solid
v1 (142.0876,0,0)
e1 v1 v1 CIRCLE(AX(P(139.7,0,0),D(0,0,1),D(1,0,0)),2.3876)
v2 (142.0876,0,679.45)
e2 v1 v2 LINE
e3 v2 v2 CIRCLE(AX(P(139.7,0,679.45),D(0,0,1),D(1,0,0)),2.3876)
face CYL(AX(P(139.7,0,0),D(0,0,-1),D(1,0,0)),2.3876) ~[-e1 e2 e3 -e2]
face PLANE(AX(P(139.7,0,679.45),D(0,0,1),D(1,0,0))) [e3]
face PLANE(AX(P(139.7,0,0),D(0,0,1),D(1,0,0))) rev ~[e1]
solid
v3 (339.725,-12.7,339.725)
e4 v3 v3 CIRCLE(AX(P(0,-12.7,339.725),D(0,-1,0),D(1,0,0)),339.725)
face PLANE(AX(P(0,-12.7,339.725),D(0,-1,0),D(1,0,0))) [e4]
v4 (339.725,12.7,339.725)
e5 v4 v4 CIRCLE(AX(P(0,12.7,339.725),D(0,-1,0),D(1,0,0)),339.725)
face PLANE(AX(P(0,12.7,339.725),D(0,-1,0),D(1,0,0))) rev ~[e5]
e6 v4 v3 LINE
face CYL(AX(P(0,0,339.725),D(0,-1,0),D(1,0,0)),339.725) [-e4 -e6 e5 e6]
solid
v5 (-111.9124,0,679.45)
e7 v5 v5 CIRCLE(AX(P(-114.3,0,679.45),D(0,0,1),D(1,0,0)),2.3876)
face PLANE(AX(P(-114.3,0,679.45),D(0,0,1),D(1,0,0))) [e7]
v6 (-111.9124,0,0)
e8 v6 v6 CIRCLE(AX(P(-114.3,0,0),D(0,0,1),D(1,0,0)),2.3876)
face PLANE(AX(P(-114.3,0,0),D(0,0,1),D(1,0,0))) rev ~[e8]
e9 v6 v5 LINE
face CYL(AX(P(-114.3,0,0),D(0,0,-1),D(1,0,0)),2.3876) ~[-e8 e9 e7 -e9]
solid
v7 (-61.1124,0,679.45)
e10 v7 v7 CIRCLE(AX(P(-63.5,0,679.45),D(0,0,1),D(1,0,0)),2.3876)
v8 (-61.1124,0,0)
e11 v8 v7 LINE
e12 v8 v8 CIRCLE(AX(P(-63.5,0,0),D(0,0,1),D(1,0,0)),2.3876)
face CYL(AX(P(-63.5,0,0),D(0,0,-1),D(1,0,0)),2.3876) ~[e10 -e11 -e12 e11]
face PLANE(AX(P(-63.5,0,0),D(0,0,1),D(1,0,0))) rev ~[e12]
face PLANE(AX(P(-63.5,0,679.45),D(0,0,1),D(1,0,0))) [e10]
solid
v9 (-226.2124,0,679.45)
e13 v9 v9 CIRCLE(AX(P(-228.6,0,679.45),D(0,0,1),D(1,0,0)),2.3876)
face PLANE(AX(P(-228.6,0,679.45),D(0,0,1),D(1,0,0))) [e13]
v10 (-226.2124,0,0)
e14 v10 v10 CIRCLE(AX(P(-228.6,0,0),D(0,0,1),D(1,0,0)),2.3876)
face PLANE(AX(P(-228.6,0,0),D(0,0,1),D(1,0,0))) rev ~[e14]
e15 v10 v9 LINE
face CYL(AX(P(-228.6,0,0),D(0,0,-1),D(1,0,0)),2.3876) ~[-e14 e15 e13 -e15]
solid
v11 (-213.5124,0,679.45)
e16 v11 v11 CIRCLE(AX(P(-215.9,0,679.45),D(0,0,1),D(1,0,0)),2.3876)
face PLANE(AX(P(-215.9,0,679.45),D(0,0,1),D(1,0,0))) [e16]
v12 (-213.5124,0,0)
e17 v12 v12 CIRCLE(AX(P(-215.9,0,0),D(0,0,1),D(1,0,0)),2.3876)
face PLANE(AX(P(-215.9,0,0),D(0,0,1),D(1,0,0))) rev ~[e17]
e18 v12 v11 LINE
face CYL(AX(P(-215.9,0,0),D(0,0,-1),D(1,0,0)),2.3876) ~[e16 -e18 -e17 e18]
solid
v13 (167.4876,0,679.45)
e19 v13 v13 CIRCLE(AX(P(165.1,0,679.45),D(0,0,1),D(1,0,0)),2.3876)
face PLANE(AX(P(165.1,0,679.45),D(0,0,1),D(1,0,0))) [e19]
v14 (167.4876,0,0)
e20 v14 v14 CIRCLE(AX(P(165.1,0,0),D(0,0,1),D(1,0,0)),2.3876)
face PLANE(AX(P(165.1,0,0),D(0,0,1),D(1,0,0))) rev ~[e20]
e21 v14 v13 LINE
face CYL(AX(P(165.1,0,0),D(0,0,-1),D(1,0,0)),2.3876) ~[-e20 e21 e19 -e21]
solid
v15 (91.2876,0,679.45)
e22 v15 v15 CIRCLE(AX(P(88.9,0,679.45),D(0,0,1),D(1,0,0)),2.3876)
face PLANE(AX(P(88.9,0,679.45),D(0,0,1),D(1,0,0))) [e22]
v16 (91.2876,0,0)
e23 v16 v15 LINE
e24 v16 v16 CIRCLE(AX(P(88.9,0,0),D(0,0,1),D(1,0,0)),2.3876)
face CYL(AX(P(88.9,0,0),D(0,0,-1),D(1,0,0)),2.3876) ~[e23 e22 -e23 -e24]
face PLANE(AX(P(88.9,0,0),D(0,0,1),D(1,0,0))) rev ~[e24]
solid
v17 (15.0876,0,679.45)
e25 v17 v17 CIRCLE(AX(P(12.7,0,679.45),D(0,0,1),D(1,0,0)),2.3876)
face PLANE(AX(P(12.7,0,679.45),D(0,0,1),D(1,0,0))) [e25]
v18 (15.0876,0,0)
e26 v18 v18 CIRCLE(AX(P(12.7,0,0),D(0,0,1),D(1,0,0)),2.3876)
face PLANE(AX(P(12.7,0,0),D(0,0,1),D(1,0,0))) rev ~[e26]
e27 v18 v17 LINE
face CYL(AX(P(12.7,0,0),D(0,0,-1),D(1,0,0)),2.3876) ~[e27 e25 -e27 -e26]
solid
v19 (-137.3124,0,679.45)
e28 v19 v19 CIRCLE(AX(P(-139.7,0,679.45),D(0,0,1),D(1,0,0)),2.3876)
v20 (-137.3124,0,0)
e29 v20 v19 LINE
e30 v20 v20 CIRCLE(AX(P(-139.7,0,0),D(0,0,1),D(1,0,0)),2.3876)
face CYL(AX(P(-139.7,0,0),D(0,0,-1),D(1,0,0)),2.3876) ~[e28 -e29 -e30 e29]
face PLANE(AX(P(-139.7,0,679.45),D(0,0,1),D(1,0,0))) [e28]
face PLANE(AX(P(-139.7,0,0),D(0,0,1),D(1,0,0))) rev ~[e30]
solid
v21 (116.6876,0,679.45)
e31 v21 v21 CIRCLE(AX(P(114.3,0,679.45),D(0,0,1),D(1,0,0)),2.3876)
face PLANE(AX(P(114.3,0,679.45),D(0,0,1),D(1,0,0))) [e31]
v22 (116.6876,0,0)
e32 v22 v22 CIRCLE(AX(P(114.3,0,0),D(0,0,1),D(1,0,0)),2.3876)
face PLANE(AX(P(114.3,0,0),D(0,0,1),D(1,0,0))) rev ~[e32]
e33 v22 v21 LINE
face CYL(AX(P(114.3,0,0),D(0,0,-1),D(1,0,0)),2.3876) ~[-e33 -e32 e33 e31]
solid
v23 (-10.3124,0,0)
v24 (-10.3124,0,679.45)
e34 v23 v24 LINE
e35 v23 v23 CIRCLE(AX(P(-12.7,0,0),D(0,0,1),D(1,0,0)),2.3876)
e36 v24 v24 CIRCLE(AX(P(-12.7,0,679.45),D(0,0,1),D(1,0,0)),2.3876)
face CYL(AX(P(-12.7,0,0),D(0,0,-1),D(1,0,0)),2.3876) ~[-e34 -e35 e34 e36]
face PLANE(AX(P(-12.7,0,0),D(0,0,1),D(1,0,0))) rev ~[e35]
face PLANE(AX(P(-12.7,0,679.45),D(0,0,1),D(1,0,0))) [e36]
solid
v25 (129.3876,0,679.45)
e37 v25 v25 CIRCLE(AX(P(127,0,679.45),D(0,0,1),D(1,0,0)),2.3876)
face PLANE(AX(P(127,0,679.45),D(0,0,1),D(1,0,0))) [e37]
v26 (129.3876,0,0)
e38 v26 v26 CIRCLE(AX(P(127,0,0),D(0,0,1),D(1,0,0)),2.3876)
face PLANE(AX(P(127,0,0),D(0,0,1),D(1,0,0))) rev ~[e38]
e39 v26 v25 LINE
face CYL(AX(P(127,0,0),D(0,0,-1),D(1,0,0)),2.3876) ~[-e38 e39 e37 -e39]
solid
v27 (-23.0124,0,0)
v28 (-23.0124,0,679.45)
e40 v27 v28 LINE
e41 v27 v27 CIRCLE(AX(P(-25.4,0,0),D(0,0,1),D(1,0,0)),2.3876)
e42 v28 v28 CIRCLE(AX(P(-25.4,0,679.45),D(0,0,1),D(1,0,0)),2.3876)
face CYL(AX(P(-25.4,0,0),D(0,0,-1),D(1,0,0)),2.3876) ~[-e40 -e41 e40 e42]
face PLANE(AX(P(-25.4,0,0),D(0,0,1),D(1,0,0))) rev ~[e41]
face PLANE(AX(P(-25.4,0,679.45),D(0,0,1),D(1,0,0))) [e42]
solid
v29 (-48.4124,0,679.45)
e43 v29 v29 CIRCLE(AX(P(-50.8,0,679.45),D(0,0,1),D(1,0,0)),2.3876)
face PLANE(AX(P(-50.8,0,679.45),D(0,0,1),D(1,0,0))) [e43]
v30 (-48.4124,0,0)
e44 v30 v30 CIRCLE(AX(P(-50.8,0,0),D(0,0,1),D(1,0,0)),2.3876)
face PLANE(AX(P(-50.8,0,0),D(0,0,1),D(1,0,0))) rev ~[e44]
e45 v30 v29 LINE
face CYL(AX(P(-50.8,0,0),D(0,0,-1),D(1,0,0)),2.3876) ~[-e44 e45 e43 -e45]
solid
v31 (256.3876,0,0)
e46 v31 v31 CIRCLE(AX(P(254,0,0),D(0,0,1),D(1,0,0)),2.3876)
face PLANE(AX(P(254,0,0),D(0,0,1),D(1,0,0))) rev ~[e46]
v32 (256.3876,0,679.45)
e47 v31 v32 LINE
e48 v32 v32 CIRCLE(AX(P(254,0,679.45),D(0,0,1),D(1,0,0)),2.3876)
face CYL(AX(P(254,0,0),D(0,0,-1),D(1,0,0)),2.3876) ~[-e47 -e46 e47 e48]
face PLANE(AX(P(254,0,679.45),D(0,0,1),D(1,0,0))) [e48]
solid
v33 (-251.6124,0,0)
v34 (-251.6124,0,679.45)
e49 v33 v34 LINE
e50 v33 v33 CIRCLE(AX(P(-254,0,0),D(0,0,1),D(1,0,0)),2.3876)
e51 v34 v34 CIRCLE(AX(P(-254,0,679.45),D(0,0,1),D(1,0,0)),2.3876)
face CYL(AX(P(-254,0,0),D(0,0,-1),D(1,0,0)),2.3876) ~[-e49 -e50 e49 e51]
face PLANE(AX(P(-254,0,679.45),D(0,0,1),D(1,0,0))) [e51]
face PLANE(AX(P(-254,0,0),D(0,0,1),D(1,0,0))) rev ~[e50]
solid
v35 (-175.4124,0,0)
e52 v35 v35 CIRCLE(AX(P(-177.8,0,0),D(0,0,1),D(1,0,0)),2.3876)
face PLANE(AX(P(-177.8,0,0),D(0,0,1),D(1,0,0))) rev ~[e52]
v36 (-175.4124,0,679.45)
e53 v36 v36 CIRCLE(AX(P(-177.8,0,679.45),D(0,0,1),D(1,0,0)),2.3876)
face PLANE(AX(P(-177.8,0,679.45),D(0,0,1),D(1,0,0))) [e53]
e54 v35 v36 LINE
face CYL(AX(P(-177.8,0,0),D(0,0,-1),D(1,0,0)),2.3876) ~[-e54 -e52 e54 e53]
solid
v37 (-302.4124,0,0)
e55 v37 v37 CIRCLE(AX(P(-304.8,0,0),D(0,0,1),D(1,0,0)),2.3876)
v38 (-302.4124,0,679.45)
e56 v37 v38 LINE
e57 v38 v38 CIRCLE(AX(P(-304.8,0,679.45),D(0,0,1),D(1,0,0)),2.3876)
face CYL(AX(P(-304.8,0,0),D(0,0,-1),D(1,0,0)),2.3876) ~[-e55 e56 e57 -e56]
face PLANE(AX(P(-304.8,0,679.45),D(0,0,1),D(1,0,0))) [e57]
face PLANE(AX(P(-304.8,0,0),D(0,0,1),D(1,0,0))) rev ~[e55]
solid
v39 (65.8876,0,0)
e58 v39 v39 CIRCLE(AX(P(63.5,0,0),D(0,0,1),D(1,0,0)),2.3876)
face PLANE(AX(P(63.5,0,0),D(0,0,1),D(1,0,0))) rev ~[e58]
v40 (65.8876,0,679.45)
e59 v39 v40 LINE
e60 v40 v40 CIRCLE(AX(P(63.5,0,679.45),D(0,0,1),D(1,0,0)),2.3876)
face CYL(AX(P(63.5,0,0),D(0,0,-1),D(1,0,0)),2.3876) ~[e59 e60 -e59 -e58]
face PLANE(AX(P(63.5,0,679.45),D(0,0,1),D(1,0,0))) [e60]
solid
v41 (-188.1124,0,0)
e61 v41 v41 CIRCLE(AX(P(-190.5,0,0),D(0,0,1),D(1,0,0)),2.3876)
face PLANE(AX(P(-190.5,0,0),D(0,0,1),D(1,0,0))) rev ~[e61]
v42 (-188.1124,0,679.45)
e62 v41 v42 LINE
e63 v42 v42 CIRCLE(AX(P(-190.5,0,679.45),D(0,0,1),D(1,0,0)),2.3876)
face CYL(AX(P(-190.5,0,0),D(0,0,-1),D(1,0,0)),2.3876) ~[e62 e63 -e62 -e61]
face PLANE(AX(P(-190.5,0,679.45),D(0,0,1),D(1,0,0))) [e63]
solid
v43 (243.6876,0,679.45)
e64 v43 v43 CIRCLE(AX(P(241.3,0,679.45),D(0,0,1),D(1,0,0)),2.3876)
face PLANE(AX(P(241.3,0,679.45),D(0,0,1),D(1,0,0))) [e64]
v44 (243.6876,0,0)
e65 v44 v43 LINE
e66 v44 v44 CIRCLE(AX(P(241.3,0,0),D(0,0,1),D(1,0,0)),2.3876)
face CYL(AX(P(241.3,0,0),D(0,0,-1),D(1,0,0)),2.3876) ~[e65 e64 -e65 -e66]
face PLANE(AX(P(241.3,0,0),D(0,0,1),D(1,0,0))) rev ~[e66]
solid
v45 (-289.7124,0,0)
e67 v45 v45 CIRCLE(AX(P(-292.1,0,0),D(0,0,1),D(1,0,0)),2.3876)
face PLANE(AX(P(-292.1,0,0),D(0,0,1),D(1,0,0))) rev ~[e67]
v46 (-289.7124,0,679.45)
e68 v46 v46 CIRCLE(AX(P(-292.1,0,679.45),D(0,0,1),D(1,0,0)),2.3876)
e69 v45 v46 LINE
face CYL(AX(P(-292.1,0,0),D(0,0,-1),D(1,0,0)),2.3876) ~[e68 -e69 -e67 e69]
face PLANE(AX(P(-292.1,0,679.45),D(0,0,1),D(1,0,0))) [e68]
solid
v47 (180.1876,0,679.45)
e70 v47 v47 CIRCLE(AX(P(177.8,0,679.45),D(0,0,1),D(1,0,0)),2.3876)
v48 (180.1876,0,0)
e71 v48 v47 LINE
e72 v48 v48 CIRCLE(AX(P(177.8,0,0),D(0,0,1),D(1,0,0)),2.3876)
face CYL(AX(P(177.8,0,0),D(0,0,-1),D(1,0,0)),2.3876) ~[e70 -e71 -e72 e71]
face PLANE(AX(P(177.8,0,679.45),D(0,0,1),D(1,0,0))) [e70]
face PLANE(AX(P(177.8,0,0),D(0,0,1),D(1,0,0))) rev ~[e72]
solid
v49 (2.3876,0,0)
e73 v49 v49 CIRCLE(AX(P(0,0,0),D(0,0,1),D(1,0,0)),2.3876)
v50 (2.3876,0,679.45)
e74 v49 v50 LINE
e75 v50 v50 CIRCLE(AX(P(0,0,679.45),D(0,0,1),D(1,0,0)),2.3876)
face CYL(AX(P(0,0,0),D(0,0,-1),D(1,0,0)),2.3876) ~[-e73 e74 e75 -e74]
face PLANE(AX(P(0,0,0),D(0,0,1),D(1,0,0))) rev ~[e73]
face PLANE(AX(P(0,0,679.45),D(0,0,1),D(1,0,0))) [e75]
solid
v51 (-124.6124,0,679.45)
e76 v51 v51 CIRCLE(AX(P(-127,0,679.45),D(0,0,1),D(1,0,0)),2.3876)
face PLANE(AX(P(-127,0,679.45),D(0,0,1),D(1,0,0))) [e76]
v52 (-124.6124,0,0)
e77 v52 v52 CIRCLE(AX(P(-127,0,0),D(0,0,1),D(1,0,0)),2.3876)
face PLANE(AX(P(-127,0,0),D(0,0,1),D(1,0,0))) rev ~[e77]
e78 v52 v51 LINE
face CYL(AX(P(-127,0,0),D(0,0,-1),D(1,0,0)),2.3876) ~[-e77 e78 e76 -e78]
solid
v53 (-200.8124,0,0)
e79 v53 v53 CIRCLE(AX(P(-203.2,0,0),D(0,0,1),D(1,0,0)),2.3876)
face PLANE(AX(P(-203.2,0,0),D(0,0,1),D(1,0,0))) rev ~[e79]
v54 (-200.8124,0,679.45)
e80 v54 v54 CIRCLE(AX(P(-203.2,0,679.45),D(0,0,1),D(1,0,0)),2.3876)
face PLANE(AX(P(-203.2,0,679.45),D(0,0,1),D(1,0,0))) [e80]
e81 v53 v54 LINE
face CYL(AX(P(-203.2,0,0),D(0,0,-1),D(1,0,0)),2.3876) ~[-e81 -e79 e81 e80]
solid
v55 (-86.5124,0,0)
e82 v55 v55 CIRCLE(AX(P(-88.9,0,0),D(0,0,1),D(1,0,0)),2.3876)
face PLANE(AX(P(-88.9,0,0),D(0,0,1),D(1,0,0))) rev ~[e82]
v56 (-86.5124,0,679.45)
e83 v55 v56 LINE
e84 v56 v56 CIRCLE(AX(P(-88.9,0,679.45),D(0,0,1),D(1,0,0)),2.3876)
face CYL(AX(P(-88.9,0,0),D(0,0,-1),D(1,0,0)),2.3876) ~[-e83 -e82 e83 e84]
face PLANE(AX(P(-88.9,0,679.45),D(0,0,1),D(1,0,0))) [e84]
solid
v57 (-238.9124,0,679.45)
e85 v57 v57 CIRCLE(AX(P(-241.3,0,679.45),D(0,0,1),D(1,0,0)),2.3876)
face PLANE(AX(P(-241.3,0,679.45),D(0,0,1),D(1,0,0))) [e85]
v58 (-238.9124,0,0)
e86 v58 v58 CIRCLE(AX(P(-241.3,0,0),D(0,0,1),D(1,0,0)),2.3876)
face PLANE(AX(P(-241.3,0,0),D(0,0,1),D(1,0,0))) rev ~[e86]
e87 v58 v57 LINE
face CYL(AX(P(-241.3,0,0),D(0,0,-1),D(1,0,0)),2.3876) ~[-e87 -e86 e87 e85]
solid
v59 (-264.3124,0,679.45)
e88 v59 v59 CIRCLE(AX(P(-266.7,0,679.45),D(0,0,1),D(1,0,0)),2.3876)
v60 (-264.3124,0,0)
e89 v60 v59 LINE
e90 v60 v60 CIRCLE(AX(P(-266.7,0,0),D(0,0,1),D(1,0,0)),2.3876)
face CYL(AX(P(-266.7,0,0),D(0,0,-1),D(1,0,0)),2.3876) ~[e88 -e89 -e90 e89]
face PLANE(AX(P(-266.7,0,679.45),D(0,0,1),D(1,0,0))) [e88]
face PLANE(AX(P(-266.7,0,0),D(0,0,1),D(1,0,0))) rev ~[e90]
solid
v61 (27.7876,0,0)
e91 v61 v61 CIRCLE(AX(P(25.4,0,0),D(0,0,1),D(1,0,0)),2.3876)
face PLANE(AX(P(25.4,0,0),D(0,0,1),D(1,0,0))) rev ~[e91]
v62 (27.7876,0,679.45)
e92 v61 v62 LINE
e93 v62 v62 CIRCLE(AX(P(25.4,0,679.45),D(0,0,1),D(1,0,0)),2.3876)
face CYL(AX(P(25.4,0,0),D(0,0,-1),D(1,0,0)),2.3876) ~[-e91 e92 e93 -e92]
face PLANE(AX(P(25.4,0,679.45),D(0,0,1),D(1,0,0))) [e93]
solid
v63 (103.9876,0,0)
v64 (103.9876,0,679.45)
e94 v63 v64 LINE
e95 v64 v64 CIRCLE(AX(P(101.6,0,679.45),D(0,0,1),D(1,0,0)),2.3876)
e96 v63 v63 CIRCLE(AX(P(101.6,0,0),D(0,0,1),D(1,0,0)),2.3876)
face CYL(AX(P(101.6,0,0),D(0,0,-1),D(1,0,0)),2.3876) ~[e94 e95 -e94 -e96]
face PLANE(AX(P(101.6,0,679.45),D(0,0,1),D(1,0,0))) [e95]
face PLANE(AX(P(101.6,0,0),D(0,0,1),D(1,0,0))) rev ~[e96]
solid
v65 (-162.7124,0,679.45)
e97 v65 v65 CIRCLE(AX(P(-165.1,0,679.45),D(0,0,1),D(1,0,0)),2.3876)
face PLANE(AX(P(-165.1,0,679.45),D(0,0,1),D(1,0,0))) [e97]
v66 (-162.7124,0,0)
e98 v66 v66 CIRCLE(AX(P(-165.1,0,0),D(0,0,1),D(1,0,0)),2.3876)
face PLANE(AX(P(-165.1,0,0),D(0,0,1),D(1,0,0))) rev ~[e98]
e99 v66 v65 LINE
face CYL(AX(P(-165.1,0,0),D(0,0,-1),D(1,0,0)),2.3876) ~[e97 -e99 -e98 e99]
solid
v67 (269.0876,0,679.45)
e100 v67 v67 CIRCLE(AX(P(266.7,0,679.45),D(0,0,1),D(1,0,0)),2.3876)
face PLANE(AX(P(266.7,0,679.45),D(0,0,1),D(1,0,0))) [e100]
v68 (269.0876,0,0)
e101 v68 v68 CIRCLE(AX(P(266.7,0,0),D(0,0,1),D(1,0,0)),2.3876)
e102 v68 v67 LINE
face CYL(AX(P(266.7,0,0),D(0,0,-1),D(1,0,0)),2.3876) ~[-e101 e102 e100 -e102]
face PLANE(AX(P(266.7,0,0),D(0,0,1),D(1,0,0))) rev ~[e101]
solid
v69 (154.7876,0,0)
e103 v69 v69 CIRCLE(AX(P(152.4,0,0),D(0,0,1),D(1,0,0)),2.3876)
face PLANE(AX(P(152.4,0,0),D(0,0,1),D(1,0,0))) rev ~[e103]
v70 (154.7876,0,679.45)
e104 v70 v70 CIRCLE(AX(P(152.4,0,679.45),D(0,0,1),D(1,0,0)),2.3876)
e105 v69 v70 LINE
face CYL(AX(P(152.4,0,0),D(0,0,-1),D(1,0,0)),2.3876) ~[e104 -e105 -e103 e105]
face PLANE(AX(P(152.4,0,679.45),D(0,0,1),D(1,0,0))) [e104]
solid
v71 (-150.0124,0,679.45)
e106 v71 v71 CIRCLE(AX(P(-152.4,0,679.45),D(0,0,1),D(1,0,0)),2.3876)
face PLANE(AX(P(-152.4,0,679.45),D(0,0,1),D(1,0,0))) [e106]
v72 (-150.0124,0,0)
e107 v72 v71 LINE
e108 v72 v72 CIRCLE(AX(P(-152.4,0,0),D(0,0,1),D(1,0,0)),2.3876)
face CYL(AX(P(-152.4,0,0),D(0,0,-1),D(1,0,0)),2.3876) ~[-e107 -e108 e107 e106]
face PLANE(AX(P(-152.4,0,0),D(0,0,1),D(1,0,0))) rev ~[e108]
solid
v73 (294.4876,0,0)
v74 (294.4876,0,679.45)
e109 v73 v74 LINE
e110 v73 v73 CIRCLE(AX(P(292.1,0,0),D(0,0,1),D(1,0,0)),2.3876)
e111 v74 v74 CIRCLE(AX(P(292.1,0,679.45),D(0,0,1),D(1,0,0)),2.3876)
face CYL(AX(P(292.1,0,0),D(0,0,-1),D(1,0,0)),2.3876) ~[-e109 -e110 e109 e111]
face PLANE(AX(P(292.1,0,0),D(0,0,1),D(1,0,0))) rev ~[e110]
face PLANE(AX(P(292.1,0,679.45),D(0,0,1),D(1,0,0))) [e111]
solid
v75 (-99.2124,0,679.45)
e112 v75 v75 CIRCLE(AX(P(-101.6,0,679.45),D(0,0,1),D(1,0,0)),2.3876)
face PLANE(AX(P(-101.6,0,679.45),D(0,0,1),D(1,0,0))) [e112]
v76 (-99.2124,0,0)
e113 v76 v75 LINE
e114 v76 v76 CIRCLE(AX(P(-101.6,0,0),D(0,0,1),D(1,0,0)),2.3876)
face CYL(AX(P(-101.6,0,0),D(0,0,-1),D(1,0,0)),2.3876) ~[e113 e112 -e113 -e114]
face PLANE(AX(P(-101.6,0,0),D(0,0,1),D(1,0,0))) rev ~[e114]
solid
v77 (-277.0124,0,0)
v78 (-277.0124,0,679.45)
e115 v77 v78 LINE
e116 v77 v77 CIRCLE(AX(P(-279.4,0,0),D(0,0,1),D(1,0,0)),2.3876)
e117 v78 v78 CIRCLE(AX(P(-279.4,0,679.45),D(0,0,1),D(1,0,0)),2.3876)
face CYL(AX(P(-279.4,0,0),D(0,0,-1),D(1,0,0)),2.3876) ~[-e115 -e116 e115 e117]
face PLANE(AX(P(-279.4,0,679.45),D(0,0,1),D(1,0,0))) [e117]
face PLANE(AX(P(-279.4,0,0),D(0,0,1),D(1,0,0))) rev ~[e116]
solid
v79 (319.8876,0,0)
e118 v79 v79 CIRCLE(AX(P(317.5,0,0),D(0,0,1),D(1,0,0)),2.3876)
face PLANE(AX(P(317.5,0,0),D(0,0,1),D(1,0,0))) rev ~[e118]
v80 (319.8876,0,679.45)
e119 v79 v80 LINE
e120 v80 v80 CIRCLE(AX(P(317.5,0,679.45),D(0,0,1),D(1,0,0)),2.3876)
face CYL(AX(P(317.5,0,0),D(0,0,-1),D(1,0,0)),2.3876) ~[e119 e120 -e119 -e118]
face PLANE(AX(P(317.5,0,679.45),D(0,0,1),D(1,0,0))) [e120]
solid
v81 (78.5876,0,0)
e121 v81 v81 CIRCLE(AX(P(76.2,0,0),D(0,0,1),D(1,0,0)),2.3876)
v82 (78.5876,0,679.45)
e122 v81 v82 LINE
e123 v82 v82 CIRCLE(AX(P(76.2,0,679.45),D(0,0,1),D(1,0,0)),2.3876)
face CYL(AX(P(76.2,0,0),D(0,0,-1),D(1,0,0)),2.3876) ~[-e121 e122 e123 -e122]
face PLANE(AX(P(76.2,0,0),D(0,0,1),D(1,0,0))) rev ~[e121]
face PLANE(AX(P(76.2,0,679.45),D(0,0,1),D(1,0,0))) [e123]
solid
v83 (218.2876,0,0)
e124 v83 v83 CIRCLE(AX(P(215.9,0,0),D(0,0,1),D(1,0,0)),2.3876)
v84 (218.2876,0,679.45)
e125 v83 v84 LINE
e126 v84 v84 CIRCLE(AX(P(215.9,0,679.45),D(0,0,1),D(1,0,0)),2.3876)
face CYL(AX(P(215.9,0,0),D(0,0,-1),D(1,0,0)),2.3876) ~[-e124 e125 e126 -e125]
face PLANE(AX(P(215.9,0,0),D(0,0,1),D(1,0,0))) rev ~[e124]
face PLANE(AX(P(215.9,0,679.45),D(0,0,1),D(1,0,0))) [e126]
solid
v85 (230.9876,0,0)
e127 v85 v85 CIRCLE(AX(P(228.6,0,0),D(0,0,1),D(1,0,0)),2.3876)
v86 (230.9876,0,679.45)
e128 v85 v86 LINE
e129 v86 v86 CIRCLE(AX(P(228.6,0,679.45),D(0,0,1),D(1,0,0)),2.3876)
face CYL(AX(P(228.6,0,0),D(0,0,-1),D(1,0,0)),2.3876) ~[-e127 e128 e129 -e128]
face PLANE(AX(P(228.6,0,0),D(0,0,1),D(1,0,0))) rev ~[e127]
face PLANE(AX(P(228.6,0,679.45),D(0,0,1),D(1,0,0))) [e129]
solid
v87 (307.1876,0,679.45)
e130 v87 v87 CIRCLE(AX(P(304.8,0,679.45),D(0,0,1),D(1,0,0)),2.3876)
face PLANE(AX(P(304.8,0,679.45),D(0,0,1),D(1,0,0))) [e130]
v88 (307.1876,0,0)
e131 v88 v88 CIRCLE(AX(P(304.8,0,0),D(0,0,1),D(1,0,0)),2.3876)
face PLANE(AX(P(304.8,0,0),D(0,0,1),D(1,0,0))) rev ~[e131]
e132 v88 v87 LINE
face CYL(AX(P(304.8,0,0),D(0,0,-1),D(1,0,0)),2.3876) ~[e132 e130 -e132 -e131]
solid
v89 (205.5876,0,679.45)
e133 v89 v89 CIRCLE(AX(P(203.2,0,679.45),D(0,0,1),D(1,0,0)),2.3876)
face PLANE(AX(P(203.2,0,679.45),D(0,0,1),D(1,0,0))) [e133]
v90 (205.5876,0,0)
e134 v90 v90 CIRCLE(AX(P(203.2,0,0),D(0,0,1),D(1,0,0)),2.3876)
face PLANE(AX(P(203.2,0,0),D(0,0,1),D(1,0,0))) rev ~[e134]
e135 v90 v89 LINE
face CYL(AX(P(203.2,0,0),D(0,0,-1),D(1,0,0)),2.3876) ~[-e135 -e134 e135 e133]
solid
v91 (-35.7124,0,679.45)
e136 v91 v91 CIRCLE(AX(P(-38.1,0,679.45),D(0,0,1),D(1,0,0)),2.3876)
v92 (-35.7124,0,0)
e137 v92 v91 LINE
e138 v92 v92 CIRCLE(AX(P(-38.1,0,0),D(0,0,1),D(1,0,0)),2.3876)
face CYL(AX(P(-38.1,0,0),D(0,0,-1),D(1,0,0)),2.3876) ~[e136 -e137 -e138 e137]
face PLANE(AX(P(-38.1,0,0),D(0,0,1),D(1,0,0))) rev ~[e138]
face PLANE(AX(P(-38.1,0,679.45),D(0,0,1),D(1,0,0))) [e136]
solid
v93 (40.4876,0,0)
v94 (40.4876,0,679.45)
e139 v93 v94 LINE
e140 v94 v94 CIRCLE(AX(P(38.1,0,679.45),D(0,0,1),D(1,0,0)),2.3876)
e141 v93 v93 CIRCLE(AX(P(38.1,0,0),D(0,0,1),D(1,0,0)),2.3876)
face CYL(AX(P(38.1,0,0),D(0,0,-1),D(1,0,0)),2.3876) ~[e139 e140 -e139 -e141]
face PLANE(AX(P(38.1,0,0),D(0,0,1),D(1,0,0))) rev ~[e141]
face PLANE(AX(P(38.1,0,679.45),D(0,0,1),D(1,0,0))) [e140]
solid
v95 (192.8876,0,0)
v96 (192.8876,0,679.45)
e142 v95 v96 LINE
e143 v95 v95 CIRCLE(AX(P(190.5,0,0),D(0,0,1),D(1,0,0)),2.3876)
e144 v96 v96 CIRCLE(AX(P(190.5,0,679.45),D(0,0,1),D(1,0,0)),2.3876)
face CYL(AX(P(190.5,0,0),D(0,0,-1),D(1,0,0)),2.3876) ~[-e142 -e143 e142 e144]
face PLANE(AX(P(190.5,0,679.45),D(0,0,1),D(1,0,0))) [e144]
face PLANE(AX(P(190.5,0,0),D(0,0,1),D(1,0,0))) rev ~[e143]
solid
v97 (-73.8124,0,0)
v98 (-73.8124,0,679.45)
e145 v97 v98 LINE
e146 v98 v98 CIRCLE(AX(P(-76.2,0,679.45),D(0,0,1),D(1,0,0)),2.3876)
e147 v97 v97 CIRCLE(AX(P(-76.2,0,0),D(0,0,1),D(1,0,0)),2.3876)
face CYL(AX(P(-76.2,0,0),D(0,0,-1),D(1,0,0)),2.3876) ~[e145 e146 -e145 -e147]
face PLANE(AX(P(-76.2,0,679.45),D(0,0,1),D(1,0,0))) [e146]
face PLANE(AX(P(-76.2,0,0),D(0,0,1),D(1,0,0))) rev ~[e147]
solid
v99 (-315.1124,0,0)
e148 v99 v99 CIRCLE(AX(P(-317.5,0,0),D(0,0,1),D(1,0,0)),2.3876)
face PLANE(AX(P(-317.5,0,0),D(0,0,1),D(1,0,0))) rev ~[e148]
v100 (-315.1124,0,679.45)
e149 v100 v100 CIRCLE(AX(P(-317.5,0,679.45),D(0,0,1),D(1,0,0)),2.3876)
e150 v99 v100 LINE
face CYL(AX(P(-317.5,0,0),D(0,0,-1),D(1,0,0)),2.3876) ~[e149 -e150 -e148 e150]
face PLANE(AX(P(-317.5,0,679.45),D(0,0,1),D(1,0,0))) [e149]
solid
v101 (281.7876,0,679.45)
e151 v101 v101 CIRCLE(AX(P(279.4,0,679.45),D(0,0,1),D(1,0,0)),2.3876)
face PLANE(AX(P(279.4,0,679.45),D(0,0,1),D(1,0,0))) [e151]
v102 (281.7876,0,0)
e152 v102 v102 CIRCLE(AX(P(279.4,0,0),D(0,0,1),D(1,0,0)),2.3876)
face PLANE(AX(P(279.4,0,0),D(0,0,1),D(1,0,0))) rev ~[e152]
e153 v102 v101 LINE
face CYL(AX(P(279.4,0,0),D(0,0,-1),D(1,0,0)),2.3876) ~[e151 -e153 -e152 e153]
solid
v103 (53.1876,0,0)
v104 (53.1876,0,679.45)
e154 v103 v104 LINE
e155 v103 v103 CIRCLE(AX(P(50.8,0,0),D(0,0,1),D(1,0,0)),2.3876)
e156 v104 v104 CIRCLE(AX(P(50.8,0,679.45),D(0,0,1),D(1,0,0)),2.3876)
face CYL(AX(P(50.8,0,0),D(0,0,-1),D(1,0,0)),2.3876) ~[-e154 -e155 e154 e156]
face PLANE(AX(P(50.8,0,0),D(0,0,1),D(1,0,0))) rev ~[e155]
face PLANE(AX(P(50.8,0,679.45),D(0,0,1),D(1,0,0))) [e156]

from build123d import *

# Parameters (mm, degrees)
F0_R     = 2.3876
F1_DEPTH = 679.45
F2_R     = 339.725
F3_DEPTH = 12.7


with BuildPart() as f1:
    # F0 (on Top) → F1 (new body)
    with BuildSketch(Plane.XY):
        Circle(F0_R)
        with Locations((12.7, 0)):
            Circle(F0_R)
        with Locations((25.4, 0)):
            Circle(F0_R)
        with Locations((38.1, 0)):
            Circle(F0_R)
        with Locations((50.8, 0)):
            Circle(F0_R)
        with Locations((63.5, 0)):
            Circle(F0_R)
        with Locations((76.2, 0)):
            Circle(F0_R)
        with Locations((88.9, 0)):
            Circle(F0_R)
        with Locations((101.6, 0)):
            Circle(F0_R)
        with Locations((114.3, 0)):
            Circle(F0_R)
        with Locations((127, 0)):
            Circle(F0_R)
        with Locations((139.7, 0)):
            Circle(F0_R)
        with Locations((152.4, 0)):
            Circle(F0_R)
        with Locations((165.1, 0)):
            Circle(F0_R)
        with Locations((177.8, 0)):
            Circle(F0_R)
        with Locations((190.5, 0)):
            Circle(F0_R)
        with Locations((203.2, 0)):
            Circle(F0_R)
        with Locations((215.9, 0)):
            Circle(F0_R)
        with Locations((228.6, 0)):
            Circle(F0_R)
        with Locations((241.3, 0)):
            Circle(F0_R)
        with Locations((254, 0)):
            Circle(F0_R)
        with Locations((266.7, 0)):
            Circle(F0_R)
        with Locations((279.4, 0)):
            Circle(F0_R)
        with Locations((292.1, 0)):
            Circle(F0_R)
        with Locations((304.8, 0)):
            Circle(F0_R)
        with Locations((317.5, 0)):
            Circle(F0_R)
        with Locations((-12.7, 0)):
            Circle(F0_R)
        with Locations((-25.4, 0)):
            Circle(F0_R)
        with Locations((-38.1, 0)):
            Circle(F0_R)
        with Locations((-50.8, 0)):
            Circle(F0_R)
        with Locations((-63.5, 0)):
            Circle(F0_R)
        with Locations((-76.2, 0)):
            Circle(F0_R)
        with Locations((-88.9, 0)):
            Circle(F0_R)
        with Locations((-101.6, 0)):
            Circle(F0_R)
        with Locations((-114.3, 0)):
            Circle(F0_R)
        with Locations((-127, 0)):
            Circle(F0_R)
        with Locations((-139.7, 0)):
            Circle(F0_R)
        with Locations((-152.4, 0)):
            Circle(F0_R)
        with Locations((-165.1, 0)):
            Circle(F0_R)
        with Locations((-177.8, 0)):
            Circle(F0_R)
        with Locations((-190.5, 0)):
            Circle(F0_R)
        with Locations((-203.2, 0)):
            Circle(F0_R)
        with Locations((-215.9, 0)):
            Circle(F0_R)
        with Locations((-228.6, 0)):
            Circle(F0_R)
        with Locations((-241.3, 0)):
            Circle(F0_R)
        with Locations((-254, 0)):
            Circle(F0_R)
        with Locations((-266.7, 0)):
            Circle(F0_R)
        with Locations((-279.4, 0)):
            Circle(F0_R)
        with Locations((-292.1, 0)):
            Circle(F0_R)
        with Locations((-304.8, 0)):
            Circle(F0_R)
        with Locations((-317.5, 0)):
            Circle(F0_R)
    extrude(amount=F1_DEPTH)


with BuildPart() as f3:
    # F2 (on Front) → F3 (new body, symmetric)
    with BuildSketch(Plane.XZ):
        with Locations((0, 339.725)):
            Circle(F2_R)
    extrude(amount=F3_DEPTH, both=True)


solid = Compound([f1.part, f3.part])
